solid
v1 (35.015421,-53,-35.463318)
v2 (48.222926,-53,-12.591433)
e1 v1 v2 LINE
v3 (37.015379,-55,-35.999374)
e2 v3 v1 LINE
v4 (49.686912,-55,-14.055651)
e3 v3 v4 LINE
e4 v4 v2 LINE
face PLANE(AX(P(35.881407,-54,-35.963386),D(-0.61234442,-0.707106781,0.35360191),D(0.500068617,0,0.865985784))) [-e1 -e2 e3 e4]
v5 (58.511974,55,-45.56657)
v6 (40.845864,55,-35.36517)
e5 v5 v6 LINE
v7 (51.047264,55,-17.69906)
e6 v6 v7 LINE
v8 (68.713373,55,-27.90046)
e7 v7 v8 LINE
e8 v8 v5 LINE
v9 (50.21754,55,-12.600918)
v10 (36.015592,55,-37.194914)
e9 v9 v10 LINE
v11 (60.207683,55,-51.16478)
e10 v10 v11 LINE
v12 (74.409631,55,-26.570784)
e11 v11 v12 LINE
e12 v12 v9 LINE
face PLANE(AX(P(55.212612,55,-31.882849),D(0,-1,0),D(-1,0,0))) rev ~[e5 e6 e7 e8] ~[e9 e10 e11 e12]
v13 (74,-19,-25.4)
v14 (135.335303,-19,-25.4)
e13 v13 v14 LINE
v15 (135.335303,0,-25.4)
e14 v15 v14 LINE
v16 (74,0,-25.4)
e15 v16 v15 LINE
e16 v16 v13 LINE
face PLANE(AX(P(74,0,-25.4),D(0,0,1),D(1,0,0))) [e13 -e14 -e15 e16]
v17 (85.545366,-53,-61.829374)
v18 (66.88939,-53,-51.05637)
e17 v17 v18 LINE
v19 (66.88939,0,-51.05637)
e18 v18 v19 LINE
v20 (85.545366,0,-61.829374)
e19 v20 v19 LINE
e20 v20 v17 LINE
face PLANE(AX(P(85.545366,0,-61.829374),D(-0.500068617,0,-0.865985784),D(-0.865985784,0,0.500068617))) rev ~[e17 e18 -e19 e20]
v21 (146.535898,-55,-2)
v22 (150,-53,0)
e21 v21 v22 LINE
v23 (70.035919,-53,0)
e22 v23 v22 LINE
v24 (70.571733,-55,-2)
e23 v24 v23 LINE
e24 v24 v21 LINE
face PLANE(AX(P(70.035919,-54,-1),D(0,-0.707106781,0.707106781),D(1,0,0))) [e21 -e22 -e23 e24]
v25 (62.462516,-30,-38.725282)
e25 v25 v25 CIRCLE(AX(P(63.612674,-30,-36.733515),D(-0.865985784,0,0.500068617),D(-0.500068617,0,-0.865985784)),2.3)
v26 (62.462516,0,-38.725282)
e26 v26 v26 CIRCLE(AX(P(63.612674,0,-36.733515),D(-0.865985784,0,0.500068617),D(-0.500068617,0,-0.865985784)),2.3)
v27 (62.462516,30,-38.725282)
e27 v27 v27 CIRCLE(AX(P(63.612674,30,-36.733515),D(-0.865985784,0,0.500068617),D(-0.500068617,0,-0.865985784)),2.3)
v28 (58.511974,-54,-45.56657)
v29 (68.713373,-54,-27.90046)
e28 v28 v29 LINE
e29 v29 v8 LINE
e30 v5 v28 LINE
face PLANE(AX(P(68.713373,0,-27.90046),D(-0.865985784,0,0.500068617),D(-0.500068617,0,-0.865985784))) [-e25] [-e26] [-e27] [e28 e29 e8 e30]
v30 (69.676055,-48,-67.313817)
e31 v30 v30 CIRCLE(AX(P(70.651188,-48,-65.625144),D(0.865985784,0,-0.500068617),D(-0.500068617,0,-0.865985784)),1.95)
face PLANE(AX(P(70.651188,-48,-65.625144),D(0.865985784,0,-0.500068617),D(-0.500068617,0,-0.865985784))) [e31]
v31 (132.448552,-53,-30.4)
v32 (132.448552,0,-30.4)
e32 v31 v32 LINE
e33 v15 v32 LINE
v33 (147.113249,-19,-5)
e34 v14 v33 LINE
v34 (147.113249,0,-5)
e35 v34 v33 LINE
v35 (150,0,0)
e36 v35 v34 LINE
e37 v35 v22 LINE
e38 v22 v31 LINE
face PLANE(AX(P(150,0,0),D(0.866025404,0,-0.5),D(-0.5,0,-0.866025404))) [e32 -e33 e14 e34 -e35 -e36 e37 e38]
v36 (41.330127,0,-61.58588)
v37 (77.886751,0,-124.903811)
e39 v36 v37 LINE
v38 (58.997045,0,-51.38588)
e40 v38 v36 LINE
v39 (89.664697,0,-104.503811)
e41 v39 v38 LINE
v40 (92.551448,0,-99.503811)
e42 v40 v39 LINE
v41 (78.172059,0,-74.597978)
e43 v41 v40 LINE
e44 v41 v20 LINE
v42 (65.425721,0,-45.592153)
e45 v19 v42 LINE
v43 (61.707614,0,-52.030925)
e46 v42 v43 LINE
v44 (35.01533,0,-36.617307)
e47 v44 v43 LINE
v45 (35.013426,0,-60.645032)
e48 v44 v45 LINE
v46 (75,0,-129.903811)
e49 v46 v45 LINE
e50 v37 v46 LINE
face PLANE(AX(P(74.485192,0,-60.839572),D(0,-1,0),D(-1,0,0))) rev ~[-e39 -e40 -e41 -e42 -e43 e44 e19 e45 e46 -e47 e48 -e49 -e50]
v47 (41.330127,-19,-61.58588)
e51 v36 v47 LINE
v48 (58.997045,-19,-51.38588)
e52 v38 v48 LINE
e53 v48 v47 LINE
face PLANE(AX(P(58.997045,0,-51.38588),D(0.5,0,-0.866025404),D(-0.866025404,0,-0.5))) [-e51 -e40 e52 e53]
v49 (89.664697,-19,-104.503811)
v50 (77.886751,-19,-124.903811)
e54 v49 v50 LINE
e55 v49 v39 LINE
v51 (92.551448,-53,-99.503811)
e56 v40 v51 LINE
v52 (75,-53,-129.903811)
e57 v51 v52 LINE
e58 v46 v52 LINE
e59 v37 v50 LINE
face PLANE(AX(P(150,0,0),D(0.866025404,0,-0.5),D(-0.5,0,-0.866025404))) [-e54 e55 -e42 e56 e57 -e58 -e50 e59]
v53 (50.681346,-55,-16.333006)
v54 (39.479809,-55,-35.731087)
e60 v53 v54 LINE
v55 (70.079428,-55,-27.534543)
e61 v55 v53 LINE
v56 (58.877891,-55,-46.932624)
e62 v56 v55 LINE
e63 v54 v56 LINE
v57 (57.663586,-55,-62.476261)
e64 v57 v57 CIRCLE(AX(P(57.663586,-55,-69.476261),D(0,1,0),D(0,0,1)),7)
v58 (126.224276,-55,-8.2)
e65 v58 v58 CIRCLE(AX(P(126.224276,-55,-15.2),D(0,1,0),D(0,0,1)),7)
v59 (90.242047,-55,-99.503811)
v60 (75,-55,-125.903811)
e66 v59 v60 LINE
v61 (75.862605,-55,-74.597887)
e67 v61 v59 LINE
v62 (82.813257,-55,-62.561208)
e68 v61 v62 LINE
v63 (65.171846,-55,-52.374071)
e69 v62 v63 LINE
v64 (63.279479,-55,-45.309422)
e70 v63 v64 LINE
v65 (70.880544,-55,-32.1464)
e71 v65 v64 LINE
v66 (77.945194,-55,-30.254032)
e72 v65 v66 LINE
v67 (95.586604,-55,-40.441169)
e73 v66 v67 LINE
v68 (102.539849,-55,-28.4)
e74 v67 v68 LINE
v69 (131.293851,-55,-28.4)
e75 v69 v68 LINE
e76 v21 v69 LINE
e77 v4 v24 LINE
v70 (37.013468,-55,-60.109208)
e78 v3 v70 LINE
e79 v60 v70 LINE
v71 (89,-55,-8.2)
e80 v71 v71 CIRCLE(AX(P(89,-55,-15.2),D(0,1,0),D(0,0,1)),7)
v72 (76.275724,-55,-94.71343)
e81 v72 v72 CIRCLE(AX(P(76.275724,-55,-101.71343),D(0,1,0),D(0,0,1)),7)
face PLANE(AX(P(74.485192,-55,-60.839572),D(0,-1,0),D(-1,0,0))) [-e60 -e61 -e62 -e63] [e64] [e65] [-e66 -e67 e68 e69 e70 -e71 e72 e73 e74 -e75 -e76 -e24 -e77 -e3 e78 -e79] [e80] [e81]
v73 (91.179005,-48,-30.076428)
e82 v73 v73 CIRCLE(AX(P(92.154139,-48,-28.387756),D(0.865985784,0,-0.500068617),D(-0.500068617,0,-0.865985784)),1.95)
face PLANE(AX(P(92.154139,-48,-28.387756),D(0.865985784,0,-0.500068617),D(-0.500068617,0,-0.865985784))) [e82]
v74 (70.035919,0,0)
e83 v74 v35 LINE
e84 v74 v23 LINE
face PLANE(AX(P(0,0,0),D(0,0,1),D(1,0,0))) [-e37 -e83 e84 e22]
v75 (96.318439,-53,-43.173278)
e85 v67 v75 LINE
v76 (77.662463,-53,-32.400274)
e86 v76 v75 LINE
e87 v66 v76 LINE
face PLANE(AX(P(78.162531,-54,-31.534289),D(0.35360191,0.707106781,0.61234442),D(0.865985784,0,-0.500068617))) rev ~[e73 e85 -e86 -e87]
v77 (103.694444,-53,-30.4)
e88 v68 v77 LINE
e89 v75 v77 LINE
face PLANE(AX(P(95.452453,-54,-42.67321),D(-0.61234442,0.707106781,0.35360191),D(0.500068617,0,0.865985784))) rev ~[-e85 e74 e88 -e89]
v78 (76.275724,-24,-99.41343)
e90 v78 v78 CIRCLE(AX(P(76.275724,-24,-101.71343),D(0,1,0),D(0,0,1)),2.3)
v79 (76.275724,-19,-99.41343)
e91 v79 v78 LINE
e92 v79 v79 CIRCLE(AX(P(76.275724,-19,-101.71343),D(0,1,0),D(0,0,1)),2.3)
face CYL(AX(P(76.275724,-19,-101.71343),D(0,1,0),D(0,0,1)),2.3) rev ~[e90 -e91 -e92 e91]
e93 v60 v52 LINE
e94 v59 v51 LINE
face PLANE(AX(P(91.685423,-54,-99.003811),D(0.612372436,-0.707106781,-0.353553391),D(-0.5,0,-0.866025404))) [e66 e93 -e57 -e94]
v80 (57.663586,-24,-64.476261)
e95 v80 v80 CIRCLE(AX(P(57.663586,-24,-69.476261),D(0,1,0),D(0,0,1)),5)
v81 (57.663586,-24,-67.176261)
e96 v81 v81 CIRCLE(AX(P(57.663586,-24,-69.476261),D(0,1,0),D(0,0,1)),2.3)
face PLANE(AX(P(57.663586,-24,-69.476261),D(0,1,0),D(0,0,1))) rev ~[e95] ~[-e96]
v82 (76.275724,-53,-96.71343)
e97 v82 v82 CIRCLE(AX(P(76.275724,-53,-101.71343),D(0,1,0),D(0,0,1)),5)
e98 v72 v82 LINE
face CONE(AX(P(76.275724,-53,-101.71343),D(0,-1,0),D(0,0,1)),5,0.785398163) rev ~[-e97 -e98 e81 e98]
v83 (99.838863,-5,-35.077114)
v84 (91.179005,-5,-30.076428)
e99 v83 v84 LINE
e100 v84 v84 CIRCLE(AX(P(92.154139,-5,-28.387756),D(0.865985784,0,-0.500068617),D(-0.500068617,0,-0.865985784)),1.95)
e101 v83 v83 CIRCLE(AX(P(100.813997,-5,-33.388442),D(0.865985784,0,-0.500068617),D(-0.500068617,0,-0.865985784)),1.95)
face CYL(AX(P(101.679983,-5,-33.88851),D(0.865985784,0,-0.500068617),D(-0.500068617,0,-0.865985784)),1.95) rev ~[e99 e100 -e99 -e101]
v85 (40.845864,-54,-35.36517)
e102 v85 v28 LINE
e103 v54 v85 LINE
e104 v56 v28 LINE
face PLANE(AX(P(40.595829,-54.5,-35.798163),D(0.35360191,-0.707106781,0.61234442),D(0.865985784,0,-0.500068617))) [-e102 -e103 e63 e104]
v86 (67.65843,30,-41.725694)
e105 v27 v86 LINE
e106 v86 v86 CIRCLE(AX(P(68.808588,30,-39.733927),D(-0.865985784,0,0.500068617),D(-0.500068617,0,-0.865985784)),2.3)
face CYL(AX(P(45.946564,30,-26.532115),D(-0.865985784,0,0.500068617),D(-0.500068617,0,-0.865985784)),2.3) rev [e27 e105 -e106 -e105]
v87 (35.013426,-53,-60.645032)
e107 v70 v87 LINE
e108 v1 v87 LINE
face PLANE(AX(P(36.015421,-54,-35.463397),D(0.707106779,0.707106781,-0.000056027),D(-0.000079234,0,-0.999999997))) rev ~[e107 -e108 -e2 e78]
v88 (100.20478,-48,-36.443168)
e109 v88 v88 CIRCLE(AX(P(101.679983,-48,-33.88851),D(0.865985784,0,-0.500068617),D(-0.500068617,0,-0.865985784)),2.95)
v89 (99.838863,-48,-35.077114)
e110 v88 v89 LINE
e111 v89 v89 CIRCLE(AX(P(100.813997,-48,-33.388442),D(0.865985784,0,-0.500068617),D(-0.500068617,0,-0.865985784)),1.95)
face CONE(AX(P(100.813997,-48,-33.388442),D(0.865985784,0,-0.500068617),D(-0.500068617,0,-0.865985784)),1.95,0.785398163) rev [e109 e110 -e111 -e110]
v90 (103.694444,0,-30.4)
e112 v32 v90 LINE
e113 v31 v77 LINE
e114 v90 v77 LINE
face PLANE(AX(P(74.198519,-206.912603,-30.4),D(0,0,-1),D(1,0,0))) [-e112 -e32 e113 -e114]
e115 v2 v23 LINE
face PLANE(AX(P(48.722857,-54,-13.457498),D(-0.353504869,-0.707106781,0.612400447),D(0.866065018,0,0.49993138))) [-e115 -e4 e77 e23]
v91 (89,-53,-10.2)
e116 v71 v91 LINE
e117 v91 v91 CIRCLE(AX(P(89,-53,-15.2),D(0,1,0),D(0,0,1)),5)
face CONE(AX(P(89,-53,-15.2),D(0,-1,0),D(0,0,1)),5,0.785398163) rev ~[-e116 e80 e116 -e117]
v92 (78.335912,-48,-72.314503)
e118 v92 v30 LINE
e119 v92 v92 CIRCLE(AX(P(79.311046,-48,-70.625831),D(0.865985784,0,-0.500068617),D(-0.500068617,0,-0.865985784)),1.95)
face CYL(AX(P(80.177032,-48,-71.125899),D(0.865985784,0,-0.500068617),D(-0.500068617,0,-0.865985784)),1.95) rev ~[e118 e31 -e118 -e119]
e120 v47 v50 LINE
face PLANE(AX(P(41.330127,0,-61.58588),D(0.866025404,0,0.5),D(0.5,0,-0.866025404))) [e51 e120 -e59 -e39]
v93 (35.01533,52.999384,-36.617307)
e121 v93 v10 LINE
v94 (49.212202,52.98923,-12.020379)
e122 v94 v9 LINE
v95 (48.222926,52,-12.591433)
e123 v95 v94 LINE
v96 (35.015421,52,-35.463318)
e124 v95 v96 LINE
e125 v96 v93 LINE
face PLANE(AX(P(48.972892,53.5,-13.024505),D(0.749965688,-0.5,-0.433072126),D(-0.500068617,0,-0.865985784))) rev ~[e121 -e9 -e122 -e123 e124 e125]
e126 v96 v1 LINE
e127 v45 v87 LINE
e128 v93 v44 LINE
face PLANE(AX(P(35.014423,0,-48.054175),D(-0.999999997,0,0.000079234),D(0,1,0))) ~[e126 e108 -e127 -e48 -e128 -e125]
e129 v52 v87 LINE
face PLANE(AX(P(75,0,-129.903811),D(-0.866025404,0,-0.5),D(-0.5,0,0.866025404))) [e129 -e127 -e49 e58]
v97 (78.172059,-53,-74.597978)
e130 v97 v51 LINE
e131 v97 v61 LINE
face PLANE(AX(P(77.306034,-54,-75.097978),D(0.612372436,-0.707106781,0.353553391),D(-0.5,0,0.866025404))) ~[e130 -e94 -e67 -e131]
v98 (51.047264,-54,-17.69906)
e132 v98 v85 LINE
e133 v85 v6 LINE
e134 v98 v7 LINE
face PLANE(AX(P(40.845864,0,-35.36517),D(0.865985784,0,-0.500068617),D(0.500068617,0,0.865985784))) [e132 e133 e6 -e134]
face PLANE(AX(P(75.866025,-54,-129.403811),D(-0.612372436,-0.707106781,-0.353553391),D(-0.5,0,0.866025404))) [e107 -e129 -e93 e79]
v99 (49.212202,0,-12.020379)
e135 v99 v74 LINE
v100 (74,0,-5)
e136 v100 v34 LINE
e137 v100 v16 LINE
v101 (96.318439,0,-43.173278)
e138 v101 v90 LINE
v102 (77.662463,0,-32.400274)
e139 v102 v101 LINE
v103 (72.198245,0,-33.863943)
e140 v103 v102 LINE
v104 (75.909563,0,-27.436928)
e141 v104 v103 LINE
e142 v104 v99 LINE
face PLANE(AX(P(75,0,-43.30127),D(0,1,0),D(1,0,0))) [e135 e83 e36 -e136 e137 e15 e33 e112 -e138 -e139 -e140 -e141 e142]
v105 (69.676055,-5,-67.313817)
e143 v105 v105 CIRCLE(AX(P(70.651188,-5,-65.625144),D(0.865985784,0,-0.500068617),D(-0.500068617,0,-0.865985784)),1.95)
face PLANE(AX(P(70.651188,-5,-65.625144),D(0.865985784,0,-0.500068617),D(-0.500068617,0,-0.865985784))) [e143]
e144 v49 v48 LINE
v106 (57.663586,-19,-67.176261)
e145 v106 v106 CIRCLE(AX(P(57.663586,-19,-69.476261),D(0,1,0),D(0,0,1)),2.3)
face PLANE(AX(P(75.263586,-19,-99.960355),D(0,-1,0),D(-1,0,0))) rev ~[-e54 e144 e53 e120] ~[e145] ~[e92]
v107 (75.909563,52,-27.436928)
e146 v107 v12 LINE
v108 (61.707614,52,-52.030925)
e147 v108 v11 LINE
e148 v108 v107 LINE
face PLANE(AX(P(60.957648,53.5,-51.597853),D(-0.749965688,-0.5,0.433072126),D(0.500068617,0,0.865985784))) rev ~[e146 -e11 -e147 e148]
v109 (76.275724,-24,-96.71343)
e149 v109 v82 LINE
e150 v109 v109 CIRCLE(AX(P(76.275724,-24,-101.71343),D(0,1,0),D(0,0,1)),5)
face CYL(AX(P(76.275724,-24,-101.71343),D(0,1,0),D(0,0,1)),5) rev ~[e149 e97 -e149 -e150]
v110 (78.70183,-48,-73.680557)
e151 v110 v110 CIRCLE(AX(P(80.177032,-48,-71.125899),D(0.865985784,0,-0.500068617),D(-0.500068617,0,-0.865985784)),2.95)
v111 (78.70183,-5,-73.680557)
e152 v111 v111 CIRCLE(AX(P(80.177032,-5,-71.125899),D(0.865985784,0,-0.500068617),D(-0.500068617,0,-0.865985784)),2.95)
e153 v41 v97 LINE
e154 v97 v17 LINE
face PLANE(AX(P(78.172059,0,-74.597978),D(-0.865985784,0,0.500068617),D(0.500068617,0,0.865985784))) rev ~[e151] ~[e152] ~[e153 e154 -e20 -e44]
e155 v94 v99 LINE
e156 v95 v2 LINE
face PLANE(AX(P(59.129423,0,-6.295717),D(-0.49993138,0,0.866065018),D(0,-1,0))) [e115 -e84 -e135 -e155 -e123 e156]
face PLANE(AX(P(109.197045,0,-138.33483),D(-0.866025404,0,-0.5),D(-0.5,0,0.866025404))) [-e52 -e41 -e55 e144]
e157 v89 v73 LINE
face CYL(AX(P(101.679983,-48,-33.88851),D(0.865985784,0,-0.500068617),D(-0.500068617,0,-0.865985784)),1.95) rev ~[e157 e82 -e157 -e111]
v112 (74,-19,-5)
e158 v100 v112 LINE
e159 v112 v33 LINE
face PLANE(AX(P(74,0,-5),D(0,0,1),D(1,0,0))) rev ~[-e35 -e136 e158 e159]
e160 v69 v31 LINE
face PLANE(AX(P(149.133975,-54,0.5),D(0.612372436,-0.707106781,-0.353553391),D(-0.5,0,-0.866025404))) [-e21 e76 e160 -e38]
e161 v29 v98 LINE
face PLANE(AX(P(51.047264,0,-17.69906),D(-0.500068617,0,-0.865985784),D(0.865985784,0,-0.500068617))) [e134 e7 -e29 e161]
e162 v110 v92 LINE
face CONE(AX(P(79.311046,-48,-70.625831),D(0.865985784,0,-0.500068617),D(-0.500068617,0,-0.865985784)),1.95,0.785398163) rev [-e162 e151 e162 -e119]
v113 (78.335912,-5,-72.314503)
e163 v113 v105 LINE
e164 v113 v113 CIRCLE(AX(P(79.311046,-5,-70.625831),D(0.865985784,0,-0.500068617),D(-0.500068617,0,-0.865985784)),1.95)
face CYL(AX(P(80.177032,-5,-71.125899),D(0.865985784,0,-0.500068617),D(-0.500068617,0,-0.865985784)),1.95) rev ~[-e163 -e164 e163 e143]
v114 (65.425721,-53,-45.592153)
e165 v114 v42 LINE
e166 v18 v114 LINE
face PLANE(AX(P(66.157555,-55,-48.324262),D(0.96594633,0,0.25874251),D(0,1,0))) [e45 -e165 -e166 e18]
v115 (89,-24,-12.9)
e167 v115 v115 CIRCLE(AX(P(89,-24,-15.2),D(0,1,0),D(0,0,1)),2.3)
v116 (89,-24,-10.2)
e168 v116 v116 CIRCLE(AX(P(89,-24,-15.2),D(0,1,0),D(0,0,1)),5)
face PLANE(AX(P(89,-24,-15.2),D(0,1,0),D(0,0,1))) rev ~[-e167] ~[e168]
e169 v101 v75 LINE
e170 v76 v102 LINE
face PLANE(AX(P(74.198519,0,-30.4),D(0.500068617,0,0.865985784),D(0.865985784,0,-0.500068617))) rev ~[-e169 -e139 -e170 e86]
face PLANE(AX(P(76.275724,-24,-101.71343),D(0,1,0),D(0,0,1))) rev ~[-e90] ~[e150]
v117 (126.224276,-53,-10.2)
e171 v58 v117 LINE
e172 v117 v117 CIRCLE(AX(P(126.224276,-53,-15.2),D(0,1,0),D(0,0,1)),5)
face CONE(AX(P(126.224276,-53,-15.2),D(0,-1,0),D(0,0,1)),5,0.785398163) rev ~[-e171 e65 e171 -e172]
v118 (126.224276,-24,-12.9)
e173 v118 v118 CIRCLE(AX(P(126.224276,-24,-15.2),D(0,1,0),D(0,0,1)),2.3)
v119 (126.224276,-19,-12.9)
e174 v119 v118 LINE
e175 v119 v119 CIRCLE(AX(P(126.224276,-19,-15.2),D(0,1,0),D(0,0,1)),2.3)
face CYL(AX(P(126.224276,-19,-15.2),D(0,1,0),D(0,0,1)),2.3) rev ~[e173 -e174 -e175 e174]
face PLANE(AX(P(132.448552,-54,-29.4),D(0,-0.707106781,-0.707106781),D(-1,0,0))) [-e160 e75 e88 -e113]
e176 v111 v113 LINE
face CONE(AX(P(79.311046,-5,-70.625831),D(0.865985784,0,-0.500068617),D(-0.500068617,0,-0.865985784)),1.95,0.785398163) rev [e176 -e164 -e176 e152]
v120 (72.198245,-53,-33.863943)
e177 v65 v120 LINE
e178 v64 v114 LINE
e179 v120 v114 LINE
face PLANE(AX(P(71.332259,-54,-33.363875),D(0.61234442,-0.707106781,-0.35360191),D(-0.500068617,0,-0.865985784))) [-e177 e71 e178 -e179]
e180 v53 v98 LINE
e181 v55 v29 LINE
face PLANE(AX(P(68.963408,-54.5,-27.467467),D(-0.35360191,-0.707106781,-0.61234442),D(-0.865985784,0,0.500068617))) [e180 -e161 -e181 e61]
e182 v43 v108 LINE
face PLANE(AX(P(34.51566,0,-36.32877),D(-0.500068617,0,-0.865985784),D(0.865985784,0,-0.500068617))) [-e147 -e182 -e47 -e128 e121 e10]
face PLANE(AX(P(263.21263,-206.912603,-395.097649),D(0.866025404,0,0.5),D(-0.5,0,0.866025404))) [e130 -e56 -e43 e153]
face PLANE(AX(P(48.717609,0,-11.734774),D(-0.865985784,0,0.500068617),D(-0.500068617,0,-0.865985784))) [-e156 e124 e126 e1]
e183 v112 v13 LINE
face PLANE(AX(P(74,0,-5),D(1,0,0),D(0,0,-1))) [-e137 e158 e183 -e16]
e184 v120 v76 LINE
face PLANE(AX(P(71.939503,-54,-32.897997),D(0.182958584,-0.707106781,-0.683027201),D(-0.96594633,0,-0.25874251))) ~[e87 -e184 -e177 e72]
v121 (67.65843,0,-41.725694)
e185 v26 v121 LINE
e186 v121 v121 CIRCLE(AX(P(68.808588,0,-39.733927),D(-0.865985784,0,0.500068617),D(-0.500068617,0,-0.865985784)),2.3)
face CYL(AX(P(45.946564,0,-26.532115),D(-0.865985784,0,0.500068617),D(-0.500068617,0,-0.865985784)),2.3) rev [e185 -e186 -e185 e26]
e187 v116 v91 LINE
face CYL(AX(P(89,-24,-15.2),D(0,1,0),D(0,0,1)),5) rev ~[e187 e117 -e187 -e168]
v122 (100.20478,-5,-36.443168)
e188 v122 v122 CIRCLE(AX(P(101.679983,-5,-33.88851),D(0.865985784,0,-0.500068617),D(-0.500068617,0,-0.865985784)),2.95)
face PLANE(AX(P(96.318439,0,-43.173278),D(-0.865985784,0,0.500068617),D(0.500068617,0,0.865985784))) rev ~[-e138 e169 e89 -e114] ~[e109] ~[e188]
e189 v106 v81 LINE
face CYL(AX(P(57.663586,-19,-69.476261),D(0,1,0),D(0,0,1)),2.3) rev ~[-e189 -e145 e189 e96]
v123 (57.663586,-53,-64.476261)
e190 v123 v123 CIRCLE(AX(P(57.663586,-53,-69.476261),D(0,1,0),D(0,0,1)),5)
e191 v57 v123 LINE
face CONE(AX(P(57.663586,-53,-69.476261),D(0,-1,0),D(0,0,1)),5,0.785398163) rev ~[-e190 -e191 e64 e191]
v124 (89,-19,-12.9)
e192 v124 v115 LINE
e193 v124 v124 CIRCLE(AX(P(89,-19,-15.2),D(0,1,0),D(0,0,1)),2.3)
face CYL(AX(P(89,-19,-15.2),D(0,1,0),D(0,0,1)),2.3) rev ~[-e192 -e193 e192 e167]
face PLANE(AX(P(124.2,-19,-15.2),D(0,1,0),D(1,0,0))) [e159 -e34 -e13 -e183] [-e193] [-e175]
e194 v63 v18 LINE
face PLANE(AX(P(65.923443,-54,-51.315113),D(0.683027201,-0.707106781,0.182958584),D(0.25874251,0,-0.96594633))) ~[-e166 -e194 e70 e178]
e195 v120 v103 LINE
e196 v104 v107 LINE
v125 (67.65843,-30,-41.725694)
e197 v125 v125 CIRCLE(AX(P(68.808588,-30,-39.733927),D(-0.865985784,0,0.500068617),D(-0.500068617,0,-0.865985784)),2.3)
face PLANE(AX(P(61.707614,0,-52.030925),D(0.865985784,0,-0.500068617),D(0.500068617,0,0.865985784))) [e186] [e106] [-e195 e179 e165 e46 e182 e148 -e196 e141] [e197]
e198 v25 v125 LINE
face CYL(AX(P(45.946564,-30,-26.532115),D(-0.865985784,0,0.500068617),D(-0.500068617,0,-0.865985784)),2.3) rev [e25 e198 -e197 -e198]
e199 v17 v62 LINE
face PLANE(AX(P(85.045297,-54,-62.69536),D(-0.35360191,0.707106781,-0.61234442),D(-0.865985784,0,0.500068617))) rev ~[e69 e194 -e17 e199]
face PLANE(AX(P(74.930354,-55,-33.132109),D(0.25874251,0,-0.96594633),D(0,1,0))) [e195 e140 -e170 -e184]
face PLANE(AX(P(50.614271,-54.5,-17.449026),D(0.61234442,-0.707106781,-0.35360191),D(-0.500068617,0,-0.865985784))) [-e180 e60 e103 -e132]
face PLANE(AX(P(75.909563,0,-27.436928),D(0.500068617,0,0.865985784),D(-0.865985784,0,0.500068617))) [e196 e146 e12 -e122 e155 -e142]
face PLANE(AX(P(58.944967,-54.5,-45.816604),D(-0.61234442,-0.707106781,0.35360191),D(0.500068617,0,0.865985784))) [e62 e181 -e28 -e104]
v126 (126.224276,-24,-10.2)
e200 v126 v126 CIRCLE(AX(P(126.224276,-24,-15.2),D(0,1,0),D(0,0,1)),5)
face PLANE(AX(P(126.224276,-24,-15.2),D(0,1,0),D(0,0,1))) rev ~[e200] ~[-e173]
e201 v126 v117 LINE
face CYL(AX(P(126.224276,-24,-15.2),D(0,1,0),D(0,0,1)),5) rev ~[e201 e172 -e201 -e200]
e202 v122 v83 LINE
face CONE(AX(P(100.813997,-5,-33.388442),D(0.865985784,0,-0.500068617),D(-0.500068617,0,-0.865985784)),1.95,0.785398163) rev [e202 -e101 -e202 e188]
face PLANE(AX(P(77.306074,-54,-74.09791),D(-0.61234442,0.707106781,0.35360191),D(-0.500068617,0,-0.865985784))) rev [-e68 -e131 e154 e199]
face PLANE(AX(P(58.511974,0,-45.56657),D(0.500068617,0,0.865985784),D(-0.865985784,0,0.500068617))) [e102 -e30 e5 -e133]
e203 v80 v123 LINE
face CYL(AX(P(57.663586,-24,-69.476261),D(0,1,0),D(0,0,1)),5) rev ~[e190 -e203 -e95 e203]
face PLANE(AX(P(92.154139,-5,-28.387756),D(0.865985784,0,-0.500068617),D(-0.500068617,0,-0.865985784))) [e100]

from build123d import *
from OCP.BRepFilletAPI import BRepFilletAPI_MakeChamfer

# Parameters (mm, degrees)
BOSS_EXTRUDE1_DEPTH     = 55
CUT_EXTRUDE2_DEPTH      = 206.91260281973967
CUT_EXTRUDE2_DEPTH_BACK = 206.91260281973967
SKETCH2_W               = 100.40000000000003
SKETCH2_H               = 20.399999999999995
CUT_EXTRUDE3_DEPTH      = 19
CUT_EXTRUDE4_DEPTH      = 206.91260281973967
CUT_EXTRUDE4_DEPTH_BACK = 206.91260281973967
CUT_EXTRUDE12_DEPTH     = 206.91260281973967
BOSS_EXTRUDE2_DEPTH     = 55
CHAMFER1_SIZE           = 14.54
CHAMFER1_SIZE2          = 14.538004892432124
CHAMFER8_SIZE           = 14.54
CHAMFER8_SIZE2          = 14.541995746543376
CHAMFER10_SIZE          = 3
CHAMFER10_SIZE2         = 1.732050807568882
BOSS_EXTRUDE4_DEPTH     = 55
SKETCH39_R              = 1.949999999999999
CUT_EXTRUDE13_DEPTH     = 11
SKETCH40_R              = 2.3000000000000105
SKETCH40_R_2            = 2.2999999999999985
CUT_EXTRUDE14_DEPTH     = 212.78054679313647
SKETCH41_R              = 2.2999999999999927
SKETCH41_R_2            = 2.300000000000006
CUT_EXTRUDE15_DEPTH     = 212.78054679313647
SKETCH42_R              = 5.000000000000005
SKETCH42_R_2            = 5.000000000000004
SKETCH42_R_3            = 4.99999999999999
CUT_EXTRUDE16_DEPTH     = 214.57902518739957
CHAMFER6_SIZE           = 1
CHAMFER13_SIZE          = 2
CHAMFER14_SIZE          = 4
SKETCH35_R              = 2.3
SKETCH35_R_2            = 2.3000000000000007
CUT_EXTRUDE11_DEPTH     = 157.6455394949968
CHAMFER15_SIZE          = 1
CHAMFER12_SIZE          = 2


with BuildPart() as part:
    # Sketch1 → Boss-Extrude1 (new body)
    with BuildSketch(Plane(origin=(0, 0, 0), x_dir=(1, 0, 0), z_dir=(0, 1, 0))):
        Polygon((0, 0), (149.99999999999937, 0), (74.99999999999966, 129.903810567666), align=None)
    extrude(amount=-BOSS_EXTRUDE1_DEPTH)

    # Sketch4 → Cut-Extrude2 (cut, two sides: drawn at the far end of the back side and taken through both)
    with BuildSketch(Plane(origin=(0, 0, 0), x_dir=(1, 0, 0), z_dir=(0, 1, 0)).offset(-CUT_EXTRUDE2_DEPTH_BACK)):
        Polygon((58.51197371389166, 45.56656990669255), (40.84586371751368, 35.365170120590925), (51.0472635036153, 17.699060124212945), (68.71337349999328, 27.90045991031457), align=None)
    extrude(amount=CUT_EXTRUDE2_DEPTH + CUT_EXTRUDE2_DEPTH_BACK, mode=Mode.SUBTRACT)

    # Sketch2 → Cut-Extrude3 (cut)
    with BuildSketch(Plane(origin=(0, 0, 0), x_dir=(1, 0, 0), z_dir=(0, 1, 0))):
        Polygon((109.19704525612455, 138.33483042000623), (58.99704525612457, 51.385879880048556), (41.33012701892186, 61.58587988004866), (91.53012701892203, 148.5348304200062), align=None)
        with Locations((124.20000000000002, 15.199999999999998)):
            Rectangle(SKETCH2_W, SKETCH2_H)
    extrude(amount=-CUT_EXTRUDE3_DEPTH, mode=Mode.SUBTRACT)

    # Sketch27 → Cut-Extrude4 (cut, two sides: drawn at the far end of the back side and taken through both)
    with BuildSketch(Plane(origin=(0, 0, 0), x_dir=(1, 0, 0), z_dir=(0, 1, 0)).offset(-CUT_EXTRUDE4_DEPTH_BACK)):
        Polygon((263.2126301054118, 395.09764853640723), (92.55144818336423, 99.50381056766552), (63.425446507958185, 49.05609584452599), (74.19851948196656, 30.4), (132.44855181663485, 30.400000000000006), (473.7709156607301, 30.40000000000005), (1064.9585915982134, 371.72236384409547), (854.4003060428951, 736.4200123805026), align=None)
    extrude(amount=CUT_EXTRUDE4_DEPTH + CUT_EXTRUDE4_DEPTH_BACK, mode=Mode.SUBTRACT)

    # Sketch36 → Cut-Extrude12 (cut, through all)
    with BuildSketch(Plane(origin=(0, 0, 0), x_dir=(1, 0, 0), z_dir=(0, 1, 0))):
        Polygon((0, 0), (27.744423358828314, 48.054750884192224), (55.49392370110368, 0), align=None)
    extrude(amount=-CUT_EXTRUDE12_DEPTH, mode=Mode.SUBTRACT)

    # Sketch37 → Boss-Extrude2 (add)
    with BuildSketch(Plane(origin=(0, 0, 0), x_dir=(1, 0, 0), z_dir=(0, 1, 0))):
        Polygon((34.51566032896974, 36.328770172306804), (61.707613950845634, 52.03092474503183), (75.90956267267339, 27.436928475564457), (48.717609050797485, 11.734773902839414), align=None)
        Polygon((58.51197371389166, 45.56656990669254), (40.84586371751368, 35.365170120590925), (51.0472635036153, 17.699060124212945), (68.71337349999328, 27.90045991031457), align=None, mode=Mode.SUBTRACT)
    extrude(amount=BOSS_EXTRUDE2_DEPTH)

    # Chamfer1
    chamfer1_edges = [part.edges().sort_by_distance(p)[0] for p in [
        (27.744423358828314, -27.499999999999996, -48.054750884192224),
    ]]
    chamfer1_side = [part.faces().sort_by_distance(p)[0] for p in [
        (41.61831404888806, -8.880686552520038, -24.028863834628613),
    ]]
    chamfer(chamfer1_edges, length=CHAMFER1_SIZE, length2=CHAMFER1_SIZE2, reference=chamfer1_side[0])

    # Chamfer8
    chamfer8_edges = [part.edges().sort_by_distance(p)[0] for p in [
        (55.49392370110368, -27.5, 0),
    ]]
    chamfer8_side = [part.faces().sort_by_distance(p)[0] for p in [
        (43.89644444718681, -5.451869149628209, -20.083748159692625),
    ]]
    chamfer(chamfer8_edges, length=CHAMFER8_SIZE, length2=CHAMFER8_SIZE2, reference=chamfer8_side[0])

    # Chamfer10: one chamfer whose edges measure the first distance from different faces: ONE call of the kernel's chamfer builder (chamfer() names one face for all edges)
    chamfer10_edges_1 = [part.edges().sort_by_distance(p)[0] for p in [
        (41.619173529966076, 55, -24.027375442095966),
    ]]
    chamfer10_side_1 = [part.faces().sort_by_distance(p)[0] for p in [
        (41.61917352996608, 4.8e-16, -24.02737544209596),
    ]]
    chamfer10_edges_2 = [part.edges().sort_by_distance(p)[0] for p in [
        (68.80858831175951, 55, -39.73392661029814),
    ]]
    chamfer10_side_2 = [part.faces().sort_by_distance(p)[0] for p in [
        (68.81005262159329, 3.7755355816469027, -39.731390815296024),
    ]]
    chamfer10 = BRepFilletAPI_MakeChamfer(part.part.solid().wrapped)
    for e in chamfer10_edges_1:
        chamfer10.Add(CHAMFER10_SIZE, CHAMFER10_SIZE2, e.wrapped, chamfer10_side_1[0].wrapped)  # the first distance lies on this face
    for e in chamfer10_edges_2:
        chamfer10.Add(CHAMFER10_SIZE, CHAMFER10_SIZE2, e.wrapped, chamfer10_side_2[0].wrapped)  # the first distance lies on this face
    add(Compound.cast(chamfer10.Shape()), mode=Mode.REPLACE)

    # Sketch28 → Boss-Extrude4 (add)
    with BuildSketch(Plane(origin=(0, 0, 0), x_dir=(1, 0, 0), z_dir=(0, 1, 0))):
        Polygon((63.4254465079582, 49.05609584452599), (78.17205931308985, 74.59797846255982), (85.54536553049708, 61.82937401563315), align=None)
        Polygon((103.69444359160526, 30.4), (74.19851948196656, 30.4), (96.31843850450542, 43.173278171107164), align=None)
    extrude(amount=-BOSS_EXTRUDE4_DEPTH)

    # Sketch39 → Cut-Extrude13 (cut)
    with BuildSketch(Plane(origin=(90.92850733429839, 0, -52.5072047814054), x_dir=(-0.5000686169657652, 0, -0.8659857841361757), z_dir=(0.8659857841361756, 0, -0.5000686169657651))):
        with Locations((-21.499999999999993, -4.999999999999996)):
            Circle(SKETCH39_R)
        with Locations((21.500000000000004, -4.999999999999996)):
            Circle(SKETCH39_R)
        with Locations((21.50000000000001, -47.99999999999999)):
            Circle(SKETCH39_R)
        with Locations((-21.499999999999986, -47.99999999999999)):
            Circle(SKETCH39_R)
    extrude(amount=-CUT_EXTRUDE13_DEPTH, mode=Mode.SUBTRACT)

    # Sketch40 → Cut-Extrude14 (cut, through all)
    with BuildSketch(Plane(origin=(0, -19, 0), x_dir=(1, 0, 0), z_dir=(0, 1, 0))):
        with Locations(Location((76.27572409168204, 101.7134295108992, 0), (0, 0, 270))):
            Circle(SKETCH40_R)
        with Locations(Location((57.66358613752323, 69.47626093681517, 0), (0, 0, 270))):
            Circle(SKETCH40_R_2)
    extrude(amount=-CUT_EXTRUDE14_DEPTH, mode=Mode.SUBTRACT)

    # Sketch41 → Cut-Extrude15 (cut, through all)
    with BuildSketch(Plane(origin=(0, -19, 0), x_dir=(1, 0, 0), z_dir=(0, 1, 0))):
        with Locations(Location((89, 15.2, 0), (0, 0, 270))):
            Circle(SKETCH41_R)
        with Locations(Location((126.22427590831714, 15.199999999999998, 0), (0, 0, 270))):
            Circle(SKETCH41_R_2)
    extrude(amount=-CUT_EXTRUDE15_DEPTH, mode=Mode.SUBTRACT)

    # Sketch42 → Cut-Extrude16 (cut, through all)
    with BuildSketch(Plane(origin=(0, -24, 0), x_dir=(1, 0, 0), z_dir=(0, 1, 0))):
        with Locations(Location((76.27572409168204, 101.7134295108992, 0), (0, 0, 270))):
            Circle(SKETCH42_R)
        with Locations(Location((57.66358613752323, 69.47626093681517, 0), (0, 0, 270))):
            Circle(SKETCH42_R)
        with Locations(Location((89, 15.2, 0), (0, 0, 270))):
            Circle(SKETCH42_R_2)
        with Locations(Location((126.22427590831714, 15.199999999999998, 0), (0, 0, 270))):
            Circle(SKETCH42_R_3)
    extrude(amount=-CUT_EXTRUDE16_DEPTH, mode=Mode.SUBTRACT)

    # Chamfer6
    chamfer6_edges = [part.edges().sort_by_distance(p)[0] for p in [
        (63.612673606942465, -55.00000000000001, -36.73351490850356),
        (59.88031850180429, -55.00000000000001, -22.79976001726376),
        (45.94656361056448, -55.00000000000001, -26.532115122401926),
        (49.67891871570267, -55.00000000000001, -40.465870013641734),
    ]]
    chamfer(chamfer6_edges, length=CHAMFER6_SIZE)

    # Chamfer13
    chamfer13_edges = [part.edges().sort_by_distance(p)[0] for p in [
        (76.27572409168204, -55, -106.7134295108992),
        (57.66358613752323, -55, -74.47626093681517),
        (89, -55, -20.200000000000003),
        (126.22427590831714, -55, -20.19999999999999),
    ]]
    chamfer(chamfer13_edges, length=CHAMFER13_SIZE)

    # Chamfer14
    chamfer14_edges = [part.edges().sort_by_distance(p)[0] for p in [
        (63.425446507958185, -27.5, -49.05609584452599),
        (74.19851948196656, -27.5, -30.4),
    ]]
    chamfer(chamfer14_edges, length=CHAMFER14_SIZE)

    # Sketch35 → Cut-Extrude11 (cut, through all)
    with BuildSketch(Plane(origin=(45.94656361056447, 0, -26.53211512240196), x_dir=(-0.5000686169657652, 0, -0.8659857841361754), z_dir=(0.8659857841361756, 0, -0.5000686169657653))):
        with Locations((3.67e-15, -30)):
            Circle(SKETCH35_R)
        Circle(SKETCH35_R_2)
        with Locations((-3.67e-15, 30)):
            Circle(SKETCH35_R)
    extrude(amount=CUT_EXTRUDE11_DEPTH, mode=Mode.SUBTRACT)

    # Chamfer15
    chamfer15_edges = [part.edges().sort_by_distance(p)[0] for p in [
        (102.65511640214558, -4.999999999999996, -32.19983814341209),
        (81.15216587261767, -47.99999999999999, -69.43722686126765),
        (102.65511640214558, -47.99999999999999, -32.199838143412094),
        (81.15216587261767, -4.999999999999996, -69.43722686126763),
    ]]
    chamfer(chamfer15_edges, length=CHAMFER15_SIZE)

    # Chamfer12
    chamfer12_edges = [part.edges().sort_by_distance(p)[0] for p in [
        (141.2242759083171, -55, -15.200000000000003),
        (35.01442342727759, -55, -48.054175012116296),
        (41.61917352996607, -55.00000000000001, -24.027375442095966),
        (110.01795972382322, -55, 0),
        (59.12942272903427, -55.00000000000001, -6.295716650669986),
        (81.85871242179346, -55, -68.21367623909649),
        (118.07149770412005, -55, -30.400000000000002),
        (86.99045056150834, -55, -37.786776319485114),
        (100.00644104805534, -55, -36.78663908555358),
        (76.21737758749998, -55, -56.44287216401109),
        (68.81198299496236, -55, -39.728047922263),
        (66.15755531016205, -55, -48.324261510185174),
        (74.93035381630737, -55, -33.13210880220387),
        (55.006712902522075, -55, -95.27442150452332),
        (83.77572409168201, -55, -114.70381056766587),
        (85.36175374822707, -55.00000000000001, -87.05089451511276),
    ]]
    chamfer(chamfer12_edges, length=CHAMFER12_SIZE)


solid = part.part
